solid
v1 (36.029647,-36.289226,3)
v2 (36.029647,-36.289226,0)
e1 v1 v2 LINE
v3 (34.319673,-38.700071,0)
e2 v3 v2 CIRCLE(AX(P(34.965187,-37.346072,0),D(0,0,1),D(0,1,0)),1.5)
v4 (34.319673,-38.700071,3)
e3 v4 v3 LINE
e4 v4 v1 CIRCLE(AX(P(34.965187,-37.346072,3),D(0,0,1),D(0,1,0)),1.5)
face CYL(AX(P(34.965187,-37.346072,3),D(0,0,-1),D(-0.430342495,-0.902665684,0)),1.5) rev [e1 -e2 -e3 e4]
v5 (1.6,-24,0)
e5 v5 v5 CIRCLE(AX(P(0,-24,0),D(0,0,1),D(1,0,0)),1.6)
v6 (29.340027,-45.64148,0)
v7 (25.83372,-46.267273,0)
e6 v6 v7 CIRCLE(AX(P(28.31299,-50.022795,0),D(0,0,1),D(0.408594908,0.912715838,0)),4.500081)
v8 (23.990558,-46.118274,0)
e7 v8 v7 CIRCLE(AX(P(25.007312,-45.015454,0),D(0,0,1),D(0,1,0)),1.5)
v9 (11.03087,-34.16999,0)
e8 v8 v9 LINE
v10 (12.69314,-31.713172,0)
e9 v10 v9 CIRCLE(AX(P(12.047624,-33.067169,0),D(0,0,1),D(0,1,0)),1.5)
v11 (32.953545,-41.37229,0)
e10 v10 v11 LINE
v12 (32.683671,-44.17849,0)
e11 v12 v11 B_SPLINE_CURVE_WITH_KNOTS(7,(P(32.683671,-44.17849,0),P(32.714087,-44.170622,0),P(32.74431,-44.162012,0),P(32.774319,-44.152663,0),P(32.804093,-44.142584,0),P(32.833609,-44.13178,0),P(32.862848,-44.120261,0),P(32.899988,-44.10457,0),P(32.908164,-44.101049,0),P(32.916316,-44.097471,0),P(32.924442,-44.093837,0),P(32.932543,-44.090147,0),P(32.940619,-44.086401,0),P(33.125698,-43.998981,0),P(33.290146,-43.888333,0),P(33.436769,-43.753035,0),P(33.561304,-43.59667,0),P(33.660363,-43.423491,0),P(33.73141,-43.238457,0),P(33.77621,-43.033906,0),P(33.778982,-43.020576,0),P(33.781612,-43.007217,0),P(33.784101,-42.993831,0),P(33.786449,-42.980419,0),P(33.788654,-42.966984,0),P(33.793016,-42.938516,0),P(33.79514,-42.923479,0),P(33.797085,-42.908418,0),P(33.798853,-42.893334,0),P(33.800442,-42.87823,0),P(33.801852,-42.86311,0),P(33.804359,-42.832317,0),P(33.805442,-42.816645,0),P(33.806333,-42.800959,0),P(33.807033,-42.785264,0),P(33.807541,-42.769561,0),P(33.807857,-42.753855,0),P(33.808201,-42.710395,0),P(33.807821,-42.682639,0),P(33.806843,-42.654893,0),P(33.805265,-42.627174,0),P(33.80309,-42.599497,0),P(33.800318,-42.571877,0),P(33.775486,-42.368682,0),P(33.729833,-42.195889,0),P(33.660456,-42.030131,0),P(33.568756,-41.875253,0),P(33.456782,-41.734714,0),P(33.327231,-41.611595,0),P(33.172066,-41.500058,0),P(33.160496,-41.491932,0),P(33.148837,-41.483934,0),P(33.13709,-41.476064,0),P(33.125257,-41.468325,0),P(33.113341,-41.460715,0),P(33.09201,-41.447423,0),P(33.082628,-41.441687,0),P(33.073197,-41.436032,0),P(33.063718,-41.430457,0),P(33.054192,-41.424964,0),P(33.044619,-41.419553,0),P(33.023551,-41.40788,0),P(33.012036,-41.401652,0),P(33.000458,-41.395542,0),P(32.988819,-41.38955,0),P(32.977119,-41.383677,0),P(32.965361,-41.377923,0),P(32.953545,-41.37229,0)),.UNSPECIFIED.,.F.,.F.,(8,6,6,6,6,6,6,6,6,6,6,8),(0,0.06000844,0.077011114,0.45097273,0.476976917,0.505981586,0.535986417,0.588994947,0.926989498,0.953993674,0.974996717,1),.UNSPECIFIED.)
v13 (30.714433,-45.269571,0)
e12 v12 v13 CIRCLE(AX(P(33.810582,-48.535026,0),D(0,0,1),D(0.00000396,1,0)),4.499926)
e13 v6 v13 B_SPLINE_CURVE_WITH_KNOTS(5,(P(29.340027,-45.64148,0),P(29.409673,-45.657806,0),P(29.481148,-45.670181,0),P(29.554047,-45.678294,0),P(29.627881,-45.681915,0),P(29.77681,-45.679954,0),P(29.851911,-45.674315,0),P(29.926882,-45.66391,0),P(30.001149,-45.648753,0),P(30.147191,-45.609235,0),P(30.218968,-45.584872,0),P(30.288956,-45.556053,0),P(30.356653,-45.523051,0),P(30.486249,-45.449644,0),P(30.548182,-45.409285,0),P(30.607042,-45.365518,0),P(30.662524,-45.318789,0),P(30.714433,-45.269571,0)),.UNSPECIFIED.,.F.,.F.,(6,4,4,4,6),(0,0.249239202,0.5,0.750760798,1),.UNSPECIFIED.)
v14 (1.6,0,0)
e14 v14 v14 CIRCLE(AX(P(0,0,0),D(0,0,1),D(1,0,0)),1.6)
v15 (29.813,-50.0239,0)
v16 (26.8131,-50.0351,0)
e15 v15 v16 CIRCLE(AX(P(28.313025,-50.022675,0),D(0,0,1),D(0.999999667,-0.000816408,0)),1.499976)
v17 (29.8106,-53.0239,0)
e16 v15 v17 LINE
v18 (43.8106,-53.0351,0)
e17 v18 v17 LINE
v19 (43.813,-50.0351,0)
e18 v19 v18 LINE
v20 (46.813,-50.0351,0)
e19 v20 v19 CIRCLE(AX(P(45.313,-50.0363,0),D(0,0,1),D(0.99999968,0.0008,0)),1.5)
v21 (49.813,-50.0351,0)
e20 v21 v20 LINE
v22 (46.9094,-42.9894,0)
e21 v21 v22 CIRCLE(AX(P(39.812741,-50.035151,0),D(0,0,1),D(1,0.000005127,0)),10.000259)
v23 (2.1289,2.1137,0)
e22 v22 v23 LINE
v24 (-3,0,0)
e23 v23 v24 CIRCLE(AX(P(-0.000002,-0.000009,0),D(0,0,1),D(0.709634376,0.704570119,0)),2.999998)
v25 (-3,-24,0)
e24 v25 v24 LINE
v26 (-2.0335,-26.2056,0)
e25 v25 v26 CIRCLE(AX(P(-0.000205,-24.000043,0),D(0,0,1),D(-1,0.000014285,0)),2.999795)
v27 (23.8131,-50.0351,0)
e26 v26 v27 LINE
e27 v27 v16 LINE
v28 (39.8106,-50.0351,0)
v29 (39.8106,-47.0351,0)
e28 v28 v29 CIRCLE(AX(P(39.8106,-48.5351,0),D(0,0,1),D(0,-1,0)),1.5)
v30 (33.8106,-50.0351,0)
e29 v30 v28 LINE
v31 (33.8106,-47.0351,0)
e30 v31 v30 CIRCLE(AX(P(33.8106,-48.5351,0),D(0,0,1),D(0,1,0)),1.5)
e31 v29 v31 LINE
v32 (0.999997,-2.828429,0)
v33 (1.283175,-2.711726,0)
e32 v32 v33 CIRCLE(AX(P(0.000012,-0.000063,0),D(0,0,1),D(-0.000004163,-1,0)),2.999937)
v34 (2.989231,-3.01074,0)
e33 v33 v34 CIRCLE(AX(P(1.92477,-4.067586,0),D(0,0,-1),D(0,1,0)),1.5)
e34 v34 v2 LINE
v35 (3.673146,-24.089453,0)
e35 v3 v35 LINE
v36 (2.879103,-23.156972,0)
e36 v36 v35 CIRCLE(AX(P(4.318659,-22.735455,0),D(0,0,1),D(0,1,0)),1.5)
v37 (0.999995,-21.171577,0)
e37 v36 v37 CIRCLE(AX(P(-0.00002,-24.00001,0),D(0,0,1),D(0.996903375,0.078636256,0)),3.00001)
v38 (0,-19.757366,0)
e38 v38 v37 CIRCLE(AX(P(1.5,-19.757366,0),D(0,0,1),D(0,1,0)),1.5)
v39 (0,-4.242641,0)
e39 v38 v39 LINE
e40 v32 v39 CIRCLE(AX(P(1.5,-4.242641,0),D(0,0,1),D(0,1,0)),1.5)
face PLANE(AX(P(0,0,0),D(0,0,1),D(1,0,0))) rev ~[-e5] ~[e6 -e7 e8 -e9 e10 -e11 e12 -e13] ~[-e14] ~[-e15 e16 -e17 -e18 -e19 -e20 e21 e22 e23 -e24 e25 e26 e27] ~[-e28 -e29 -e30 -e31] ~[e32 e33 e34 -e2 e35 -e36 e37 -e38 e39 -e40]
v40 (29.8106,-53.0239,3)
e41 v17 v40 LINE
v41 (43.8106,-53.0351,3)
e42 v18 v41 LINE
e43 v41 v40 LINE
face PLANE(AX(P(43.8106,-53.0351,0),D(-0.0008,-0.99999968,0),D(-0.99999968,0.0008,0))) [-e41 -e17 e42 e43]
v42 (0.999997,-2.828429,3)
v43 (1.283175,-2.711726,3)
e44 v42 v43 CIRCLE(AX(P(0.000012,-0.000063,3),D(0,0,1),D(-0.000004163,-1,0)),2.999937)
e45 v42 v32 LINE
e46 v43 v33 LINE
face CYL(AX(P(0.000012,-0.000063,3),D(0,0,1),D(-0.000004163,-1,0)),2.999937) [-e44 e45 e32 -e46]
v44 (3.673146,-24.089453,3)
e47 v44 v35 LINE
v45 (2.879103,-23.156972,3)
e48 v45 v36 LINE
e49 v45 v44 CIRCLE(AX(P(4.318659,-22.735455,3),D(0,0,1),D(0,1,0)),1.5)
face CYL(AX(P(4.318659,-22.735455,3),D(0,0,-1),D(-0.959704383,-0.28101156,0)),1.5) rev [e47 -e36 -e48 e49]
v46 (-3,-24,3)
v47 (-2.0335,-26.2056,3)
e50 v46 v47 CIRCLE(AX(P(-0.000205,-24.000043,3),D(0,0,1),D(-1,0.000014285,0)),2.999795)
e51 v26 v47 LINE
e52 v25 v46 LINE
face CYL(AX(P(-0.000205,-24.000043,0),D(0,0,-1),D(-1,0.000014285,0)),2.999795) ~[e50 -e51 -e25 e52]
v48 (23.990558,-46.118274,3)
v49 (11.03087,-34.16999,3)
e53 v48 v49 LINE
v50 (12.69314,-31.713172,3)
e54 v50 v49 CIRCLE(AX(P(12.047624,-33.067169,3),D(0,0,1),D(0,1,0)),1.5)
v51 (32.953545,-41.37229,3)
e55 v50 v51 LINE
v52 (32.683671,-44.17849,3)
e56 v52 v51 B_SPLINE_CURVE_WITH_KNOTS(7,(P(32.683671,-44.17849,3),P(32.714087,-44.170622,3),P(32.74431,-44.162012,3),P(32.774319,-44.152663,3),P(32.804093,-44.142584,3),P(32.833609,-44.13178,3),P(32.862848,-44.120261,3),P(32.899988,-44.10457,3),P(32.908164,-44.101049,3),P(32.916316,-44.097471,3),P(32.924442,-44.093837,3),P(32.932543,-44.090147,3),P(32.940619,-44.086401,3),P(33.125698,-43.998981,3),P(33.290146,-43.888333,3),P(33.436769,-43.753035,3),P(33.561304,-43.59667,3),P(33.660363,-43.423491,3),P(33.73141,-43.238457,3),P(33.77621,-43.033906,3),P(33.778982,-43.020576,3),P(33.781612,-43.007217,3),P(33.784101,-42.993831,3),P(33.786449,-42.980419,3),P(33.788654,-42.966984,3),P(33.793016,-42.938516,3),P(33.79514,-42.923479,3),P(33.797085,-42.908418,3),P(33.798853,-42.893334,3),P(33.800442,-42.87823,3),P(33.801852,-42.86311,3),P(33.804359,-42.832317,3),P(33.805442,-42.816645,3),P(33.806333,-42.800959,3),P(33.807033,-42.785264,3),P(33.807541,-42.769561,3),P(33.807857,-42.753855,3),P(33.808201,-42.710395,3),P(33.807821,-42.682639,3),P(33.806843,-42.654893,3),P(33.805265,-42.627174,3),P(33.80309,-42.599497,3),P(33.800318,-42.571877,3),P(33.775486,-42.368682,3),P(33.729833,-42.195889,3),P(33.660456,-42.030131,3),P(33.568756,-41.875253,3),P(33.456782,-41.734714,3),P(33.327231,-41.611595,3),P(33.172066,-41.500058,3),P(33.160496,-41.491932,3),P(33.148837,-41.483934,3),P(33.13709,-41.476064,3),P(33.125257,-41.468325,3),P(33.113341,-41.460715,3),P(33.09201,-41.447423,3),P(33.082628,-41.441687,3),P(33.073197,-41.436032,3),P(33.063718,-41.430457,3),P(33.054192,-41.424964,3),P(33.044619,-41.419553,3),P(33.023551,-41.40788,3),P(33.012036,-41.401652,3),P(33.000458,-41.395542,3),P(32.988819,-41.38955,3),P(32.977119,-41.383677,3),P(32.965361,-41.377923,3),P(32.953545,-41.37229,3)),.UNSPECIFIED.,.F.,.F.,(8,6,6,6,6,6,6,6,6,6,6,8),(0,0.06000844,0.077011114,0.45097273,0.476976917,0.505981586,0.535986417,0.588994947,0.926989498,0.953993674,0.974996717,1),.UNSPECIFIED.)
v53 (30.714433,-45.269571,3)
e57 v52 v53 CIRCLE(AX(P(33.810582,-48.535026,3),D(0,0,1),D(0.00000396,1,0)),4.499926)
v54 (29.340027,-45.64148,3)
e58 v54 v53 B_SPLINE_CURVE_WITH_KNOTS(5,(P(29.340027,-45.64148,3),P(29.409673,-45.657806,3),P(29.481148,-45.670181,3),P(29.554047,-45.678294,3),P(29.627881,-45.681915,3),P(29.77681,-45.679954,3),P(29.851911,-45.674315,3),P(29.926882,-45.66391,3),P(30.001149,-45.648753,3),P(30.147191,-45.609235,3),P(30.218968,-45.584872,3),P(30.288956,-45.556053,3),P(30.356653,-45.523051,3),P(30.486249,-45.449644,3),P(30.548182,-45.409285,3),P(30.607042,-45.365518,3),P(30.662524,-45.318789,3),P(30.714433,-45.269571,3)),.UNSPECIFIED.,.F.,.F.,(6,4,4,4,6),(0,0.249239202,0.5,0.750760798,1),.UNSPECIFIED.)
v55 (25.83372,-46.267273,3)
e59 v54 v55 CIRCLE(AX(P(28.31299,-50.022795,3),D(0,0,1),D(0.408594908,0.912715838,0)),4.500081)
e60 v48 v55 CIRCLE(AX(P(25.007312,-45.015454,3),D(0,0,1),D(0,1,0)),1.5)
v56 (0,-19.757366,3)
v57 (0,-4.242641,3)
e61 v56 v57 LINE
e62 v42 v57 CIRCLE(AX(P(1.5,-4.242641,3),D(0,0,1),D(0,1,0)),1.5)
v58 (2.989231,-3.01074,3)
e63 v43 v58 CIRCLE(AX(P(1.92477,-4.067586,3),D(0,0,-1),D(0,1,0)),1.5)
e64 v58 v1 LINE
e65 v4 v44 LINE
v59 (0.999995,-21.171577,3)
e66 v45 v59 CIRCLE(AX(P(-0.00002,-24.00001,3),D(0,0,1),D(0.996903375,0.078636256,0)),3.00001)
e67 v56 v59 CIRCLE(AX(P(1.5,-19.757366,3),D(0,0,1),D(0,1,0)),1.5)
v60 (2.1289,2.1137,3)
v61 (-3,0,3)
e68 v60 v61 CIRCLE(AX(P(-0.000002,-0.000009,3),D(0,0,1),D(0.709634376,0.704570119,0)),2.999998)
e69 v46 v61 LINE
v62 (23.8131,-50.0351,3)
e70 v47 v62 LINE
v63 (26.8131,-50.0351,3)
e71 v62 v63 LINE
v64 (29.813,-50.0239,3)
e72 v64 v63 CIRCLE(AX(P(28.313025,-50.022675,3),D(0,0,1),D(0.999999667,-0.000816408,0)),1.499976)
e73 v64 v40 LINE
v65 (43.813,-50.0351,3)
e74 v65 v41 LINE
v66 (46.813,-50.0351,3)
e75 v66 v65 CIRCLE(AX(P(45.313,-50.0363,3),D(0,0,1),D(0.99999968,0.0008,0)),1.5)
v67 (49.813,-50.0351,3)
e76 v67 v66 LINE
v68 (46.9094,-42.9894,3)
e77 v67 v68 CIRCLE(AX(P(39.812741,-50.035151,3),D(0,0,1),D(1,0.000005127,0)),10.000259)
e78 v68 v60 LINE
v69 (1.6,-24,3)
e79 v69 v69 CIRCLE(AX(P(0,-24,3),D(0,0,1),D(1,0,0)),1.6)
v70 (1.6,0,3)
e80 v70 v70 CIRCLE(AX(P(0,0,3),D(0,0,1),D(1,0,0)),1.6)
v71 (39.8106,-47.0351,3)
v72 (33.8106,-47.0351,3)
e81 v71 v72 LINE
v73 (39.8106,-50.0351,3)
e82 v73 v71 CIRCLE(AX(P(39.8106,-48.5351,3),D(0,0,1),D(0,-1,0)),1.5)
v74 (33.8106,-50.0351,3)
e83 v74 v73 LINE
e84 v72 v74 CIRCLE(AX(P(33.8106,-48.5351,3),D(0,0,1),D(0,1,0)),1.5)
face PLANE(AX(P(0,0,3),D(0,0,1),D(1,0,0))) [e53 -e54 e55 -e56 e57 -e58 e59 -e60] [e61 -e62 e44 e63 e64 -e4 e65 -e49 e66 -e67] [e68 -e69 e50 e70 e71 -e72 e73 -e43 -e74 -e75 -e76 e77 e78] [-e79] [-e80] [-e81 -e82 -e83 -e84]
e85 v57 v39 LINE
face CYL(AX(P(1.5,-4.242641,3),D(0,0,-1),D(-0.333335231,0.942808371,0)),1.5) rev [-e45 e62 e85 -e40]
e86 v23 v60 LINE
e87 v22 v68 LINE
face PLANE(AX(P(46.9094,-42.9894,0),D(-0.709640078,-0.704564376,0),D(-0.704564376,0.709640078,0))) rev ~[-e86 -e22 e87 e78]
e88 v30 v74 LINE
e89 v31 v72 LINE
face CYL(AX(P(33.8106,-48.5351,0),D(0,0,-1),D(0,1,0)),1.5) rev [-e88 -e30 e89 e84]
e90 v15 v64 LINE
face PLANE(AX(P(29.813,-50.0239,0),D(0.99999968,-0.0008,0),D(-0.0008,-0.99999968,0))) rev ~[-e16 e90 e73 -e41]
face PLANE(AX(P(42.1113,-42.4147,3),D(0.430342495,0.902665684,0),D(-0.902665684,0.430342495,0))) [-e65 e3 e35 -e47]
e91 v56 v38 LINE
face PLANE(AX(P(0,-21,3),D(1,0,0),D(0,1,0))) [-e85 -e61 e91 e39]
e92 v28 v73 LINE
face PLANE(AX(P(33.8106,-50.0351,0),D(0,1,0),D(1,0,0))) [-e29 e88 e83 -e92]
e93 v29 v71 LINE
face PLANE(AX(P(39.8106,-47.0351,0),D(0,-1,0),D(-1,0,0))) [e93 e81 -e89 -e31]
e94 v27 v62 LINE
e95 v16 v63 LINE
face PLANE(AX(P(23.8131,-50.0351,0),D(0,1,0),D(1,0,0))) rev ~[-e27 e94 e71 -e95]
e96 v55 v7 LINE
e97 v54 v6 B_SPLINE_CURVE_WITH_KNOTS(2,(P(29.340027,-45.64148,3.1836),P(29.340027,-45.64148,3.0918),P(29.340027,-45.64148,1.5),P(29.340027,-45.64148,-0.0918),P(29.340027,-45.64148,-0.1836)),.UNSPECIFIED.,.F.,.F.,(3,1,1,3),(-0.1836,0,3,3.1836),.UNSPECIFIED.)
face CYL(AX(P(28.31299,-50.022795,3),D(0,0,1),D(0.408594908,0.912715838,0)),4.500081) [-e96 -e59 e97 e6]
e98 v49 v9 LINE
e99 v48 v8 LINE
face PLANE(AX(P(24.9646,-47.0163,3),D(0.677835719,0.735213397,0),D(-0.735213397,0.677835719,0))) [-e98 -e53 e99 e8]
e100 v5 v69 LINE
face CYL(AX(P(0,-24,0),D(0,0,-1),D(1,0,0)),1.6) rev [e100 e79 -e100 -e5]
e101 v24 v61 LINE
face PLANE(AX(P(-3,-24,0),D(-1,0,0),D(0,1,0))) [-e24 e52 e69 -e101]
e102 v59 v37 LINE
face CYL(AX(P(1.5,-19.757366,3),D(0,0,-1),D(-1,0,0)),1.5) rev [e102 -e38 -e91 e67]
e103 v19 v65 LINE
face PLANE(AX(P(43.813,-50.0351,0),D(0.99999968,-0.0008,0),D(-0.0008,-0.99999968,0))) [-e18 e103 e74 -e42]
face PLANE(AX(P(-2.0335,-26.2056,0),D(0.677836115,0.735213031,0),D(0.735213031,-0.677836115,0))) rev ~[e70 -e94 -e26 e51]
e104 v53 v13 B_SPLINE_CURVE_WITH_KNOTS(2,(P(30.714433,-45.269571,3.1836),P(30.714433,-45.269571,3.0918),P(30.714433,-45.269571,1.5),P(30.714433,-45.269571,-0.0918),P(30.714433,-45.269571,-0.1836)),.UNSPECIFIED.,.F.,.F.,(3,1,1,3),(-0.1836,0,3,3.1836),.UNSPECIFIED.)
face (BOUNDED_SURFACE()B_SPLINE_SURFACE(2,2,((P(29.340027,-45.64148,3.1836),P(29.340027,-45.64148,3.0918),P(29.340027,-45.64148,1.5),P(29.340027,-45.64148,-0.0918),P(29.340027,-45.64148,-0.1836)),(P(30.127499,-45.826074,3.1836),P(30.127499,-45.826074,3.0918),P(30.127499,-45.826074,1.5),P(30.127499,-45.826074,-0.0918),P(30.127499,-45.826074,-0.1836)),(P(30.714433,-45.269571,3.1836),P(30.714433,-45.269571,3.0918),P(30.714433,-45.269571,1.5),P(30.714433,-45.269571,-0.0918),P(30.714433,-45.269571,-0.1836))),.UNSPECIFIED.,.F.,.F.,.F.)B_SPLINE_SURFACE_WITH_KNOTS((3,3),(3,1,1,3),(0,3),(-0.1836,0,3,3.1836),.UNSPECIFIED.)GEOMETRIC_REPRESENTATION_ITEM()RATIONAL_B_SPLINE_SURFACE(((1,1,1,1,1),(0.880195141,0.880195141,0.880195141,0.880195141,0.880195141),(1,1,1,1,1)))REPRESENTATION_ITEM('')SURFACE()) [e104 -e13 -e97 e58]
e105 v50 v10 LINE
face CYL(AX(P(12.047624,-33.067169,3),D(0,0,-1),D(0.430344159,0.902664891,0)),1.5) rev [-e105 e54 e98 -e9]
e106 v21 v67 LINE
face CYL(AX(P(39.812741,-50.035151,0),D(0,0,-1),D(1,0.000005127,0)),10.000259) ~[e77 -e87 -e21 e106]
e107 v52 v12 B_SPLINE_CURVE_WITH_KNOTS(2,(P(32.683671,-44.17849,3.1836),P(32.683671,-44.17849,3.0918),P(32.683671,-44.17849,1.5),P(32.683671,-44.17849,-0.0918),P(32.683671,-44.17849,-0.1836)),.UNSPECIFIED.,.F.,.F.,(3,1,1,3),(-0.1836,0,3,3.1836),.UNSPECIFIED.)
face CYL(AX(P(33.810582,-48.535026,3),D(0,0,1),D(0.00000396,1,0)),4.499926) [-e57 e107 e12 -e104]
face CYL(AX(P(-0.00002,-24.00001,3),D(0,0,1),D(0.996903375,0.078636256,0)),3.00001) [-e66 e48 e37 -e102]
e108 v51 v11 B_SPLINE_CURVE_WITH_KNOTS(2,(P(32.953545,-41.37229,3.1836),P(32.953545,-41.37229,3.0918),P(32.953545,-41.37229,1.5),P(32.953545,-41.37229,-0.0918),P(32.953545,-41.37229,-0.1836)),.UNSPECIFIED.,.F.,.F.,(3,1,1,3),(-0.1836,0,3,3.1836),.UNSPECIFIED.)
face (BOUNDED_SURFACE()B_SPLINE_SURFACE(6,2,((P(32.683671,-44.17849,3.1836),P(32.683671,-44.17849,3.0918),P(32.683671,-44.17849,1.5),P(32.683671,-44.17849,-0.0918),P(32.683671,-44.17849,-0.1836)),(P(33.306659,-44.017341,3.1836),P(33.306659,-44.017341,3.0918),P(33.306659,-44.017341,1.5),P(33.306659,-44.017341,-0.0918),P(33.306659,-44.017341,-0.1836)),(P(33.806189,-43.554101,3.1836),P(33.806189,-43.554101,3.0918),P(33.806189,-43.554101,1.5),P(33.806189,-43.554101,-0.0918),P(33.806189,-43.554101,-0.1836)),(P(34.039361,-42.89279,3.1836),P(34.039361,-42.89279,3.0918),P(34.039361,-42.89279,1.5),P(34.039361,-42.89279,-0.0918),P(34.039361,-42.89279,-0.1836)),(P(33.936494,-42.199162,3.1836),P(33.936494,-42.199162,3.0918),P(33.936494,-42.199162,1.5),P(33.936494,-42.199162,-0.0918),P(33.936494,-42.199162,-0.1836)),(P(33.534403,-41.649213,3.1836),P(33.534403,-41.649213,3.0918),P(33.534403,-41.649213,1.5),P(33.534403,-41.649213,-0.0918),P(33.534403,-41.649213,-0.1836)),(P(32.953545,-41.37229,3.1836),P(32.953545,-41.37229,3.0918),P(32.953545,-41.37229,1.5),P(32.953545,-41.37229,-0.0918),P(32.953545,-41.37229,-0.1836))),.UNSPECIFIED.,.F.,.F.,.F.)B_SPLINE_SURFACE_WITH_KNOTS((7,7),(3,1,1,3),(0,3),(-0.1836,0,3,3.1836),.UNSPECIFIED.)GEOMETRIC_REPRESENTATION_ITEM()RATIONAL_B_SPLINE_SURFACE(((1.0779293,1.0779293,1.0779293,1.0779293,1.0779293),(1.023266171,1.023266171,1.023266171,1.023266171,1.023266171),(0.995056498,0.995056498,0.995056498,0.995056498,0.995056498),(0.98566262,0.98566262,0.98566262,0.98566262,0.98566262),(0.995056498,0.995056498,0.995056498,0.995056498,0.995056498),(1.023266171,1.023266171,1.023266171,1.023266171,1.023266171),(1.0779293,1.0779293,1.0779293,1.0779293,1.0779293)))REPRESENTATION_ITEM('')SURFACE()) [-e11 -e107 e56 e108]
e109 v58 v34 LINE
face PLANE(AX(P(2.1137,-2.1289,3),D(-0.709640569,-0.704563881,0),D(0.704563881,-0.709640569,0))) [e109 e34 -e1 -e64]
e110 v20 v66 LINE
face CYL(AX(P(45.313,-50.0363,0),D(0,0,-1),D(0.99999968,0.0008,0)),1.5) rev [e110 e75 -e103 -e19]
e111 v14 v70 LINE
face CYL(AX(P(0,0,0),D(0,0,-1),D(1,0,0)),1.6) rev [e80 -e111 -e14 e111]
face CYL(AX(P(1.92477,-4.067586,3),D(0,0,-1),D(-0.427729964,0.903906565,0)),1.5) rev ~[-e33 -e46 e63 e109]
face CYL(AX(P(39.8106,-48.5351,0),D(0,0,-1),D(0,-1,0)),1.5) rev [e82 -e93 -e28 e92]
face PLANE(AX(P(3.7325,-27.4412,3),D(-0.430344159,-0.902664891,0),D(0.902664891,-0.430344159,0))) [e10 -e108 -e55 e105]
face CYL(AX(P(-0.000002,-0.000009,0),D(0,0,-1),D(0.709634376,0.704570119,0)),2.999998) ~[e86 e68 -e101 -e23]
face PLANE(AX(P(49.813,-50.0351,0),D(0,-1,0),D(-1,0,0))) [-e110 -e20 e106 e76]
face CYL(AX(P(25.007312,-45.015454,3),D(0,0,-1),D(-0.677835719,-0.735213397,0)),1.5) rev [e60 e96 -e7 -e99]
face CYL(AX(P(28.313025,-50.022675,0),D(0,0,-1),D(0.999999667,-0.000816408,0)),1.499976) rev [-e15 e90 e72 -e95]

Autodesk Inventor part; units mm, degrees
ref_plane "YZ Plane" through (0, 0, 0) normal (1, 0, 0) x (0, 1, 0)
ref_plane "XZ Plane" through (0, 0, 0) normal (0, 1, 0) x (-1, 0, 0)
ref_plane "XY Plane" through (0, 0, 0) normal (0, 0, 1) x (1, 0, 0)
sketch "スケッチ1" plane through (0, 0, 0) normal (0, 0, 1) x (1, 0, 0)
  circle A0 centre (0, 0) radius 1.6
  arc A1 (2.1289, 2.1137) -> (-3, 0) centre (0, 0) ccw
  line L0 (43.813, -50.0351) -> (43.8106, -53.0351) projected
  line L1 (29.813, -50.0239) -> (29.8106, -53.0239) projected
  line L2 (46.9094, -42.9894) -> (2.1289, 2.1137)
  arc A2 (49.813, -50.0351) -> (46.9094, -42.9894) centre (39.813, -50.0351) ccw
  line L3 (49.813, -50.0351) -> (49.813, -50.0351)
  line L4 (49.813, -50.0351) -> (46.813, -50.0351)
  arc A3 (46.813, -50.0351) -> (43.813, -50.0351) centre (45.313, -50.0363) ccw
  line L5 (43.8106, -53.0351) -> (29.8106, -53.0239)
  arc A4 (29.813, -50.0239) -> (26.8131, -50.0351) centre (28.313, -50.0227) ccw
  line L6 (39.8106, -48.5351) -> (33.8106, -48.5351) construction
  line L7 (39.8106, -47.0351) -> (33.8106, -47.0351)
  line L8 (33.8106, -50.0351) -> (39.8106, -50.0351)
  arc A5 (39.8106, -50.0351) -> (39.8106, -47.0351) centre (39.8106, -48.5351) ccw
  arc A6 (33.8106, -47.0351) -> (33.8106, -50.0351) centre (33.8106, -48.5351) ccw
  line L9 (23.8131, -50.0351) -> (26.8131, -50.0351)
  circle A7 centre (0, -24) radius 1.6
  arc A8 (-3, -24) -> (-2.0335, -26.2056) centre (0, -24) ccw
  line L10 (-3, -24) -> (-3, 0)
  line L11 (-2.0335, -26.2056) -> (23.8131, -50.0351)
  point P0 (36.8106, -53.0295)
  point P1 (36.8106, -48.5351)
  point P2 (36.8106, -50.0351)
  dimension "d0" = 3.2
  dimension "d1" = 6
  dimension "d4" = 1.5
  dimension "d5" = 3
  dimension "d8" = 6
  dimension "d9" = 1.5
  dimension "d10" = 3
  dimension "d13" = 10
  dimension "d14" = 3.2
  dimension "d15" = 24
extrude "押し出し1" add sketch "スケッチ1" along normal blind 3
sketch "スケッチ2" plane through (0, 0, 3) normal (0, 0, 1) x (1, 0, 0)
  arc A0 (39.8106, -50.0351) -> (39.8106, -47.0351) centre (39.8106, -48.5351) ccw projected
  line L0 (39.8106, -50.0351) -> (33.8106, -50.0351) projected
  arc A1 (33.8106, -47.0351) -> (33.8106, -50.0351) centre (33.8106, -48.5351) ccw projected
  line L1 (33.8106, -47.0351) -> (39.8106, -47.0351) projected
  circle A2 centre (0, -24) radius 1.6 projected
  circle A3 centre (0, 0) radius 1.6 projected
  arc A4 (46.813, -50.0351) -> (43.813, -50.0351) centre (45.313, -50.0363) ccw projected
  line L2 (46.813, -50.0351) -> (49.813, -50.0351) projected
  arc A5 (49.813, -50.0351) -> (46.9094, -42.9894) centre (39.813, -50.0351) ccw projected
  line L3 (46.9094, -42.9894) -> (2.1289, 2.1137) projected
  arc A6 (2.1289, 2.1137) -> (-3, 0) centre (0, 0) ccw projected
  line L4 (-3, 0) -> (-3, -24) projected
  arc A7 (-3, -24) -> (-2.0335, -26.2056) centre (0, -24) ccw projected
  line L5 (-2.0335, -26.2056) -> (23.8131, -50.0351) projected
  line L6 (23.8131, -50.0351) -> (26.8131, -50.0351) projected
  arc A8 (29.813, -50.0239) -> (26.8131, -50.0351) centre (28.313, -50.0227) ccw projected
  line L7 (29.813, -50.0239) -> (29.8106, -53.0239) projected
  line L8 (29.8106, -53.0239) -> (43.8106, -53.0351) projected
  line L9 (43.8106, -53.0351) -> (43.813, -50.0351) projected
  arc A9 (45.1777, -45.5383) -> (44.7805, -45.1031) centre (39.813, -50.0351) ccw
  arc A10 (45.1777, -45.5383) -> (40.813, -50.0327) centre (45.313, -50.0363) ccw
  line L10 (40.813, -50.0327) -> (32.813, -50.0263)
  arc A11 (39.8106, -53.0351) -> (43.4781, -45.9274) centre (39.8106, -48.5351) ccw
  line L11 (39.8106, -53.0351) -> (33.8106, -53.0351)
  line L12 (33.8106, -44.0351) -> (38.5389, -44.0351)
  line L13 (0, -24) -> (45.1777, -45.5383) construction
  arc A12 (0, -22.5) -> (-0.6455, -25.354) centre (0, -24) ccw
  arc A13 (44.5321, -46.8923) -> (45.8232, -44.1843) centre (45.1777, -45.5383) ccw
  line L14 (43.0134, -46.1682) -> (44.5321, -46.8923)
  arc A14 (32.813, -50.0263) -> (32.3777, -48.0917) centre (28.313, -50.0227) ccw
  arc A15 (30.1517, -45.9155) -> (24.9646, -47.0163) centre (28.313, -50.0227) ccw
  arc A16 (33.8106, -44.0351) -> (30.1517, -45.9155) centre (33.8106, -48.5351) ccw
  arc A17 (29.3269, -48.9172) -> (33.8106, -53.0351) centre (33.8106, -48.5351) ccw
  line L15 (0, 0) -> (1.1273, -1.1354)
  line L16 (2.1137, -2.1289) -> (42.1113, -42.4147)
  line L17 (0, -1.6) -> (0, 0)
  arc A18 (2.1289, 2.1137) -> (-3, 0) centre (0, 0) ccw
  arc A19 (0, -3) -> (2.1137, -2.1289) centre (0, 0) ccw
  line L18 (-0.6455, -25.354) -> (1.6997, -26.4721)
  line L19 (3.7325, -27.4412) -> (38.5389, -44.0351)
  line L20 (24.9646, -47.0163) -> (3.7325, -27.4412)
  line L21 (2.2056, -26.0335) -> (0, -24)
  line L22 (42.1113, -42.4147) -> (2.9907, -23.7641)
  line L23 (1.1481, -22.8856) -> (0.6455, -22.646)
  line L24 (0, -24) -> (0, -22.4)
  line L25 (0, -21) -> (0, -3)
  arc A20 (2.9907, -23.7641) -> (0, -21) centre (0, -24) ccw
  arc A21 (-3, -24) -> (2.2056, -26.0335) centre (0, -24) ccw
  point P0 (22.5888, -34.7692)
  dimension "d17" = 3
  dimension "d18" = 3
extrude "押し出し2" cut sketch "スケッチ2" against normal blind 3 contours A16 A15 L20 L19 L12 | L16 L22 A20 L25 A19
fillet "フィレット1" radius 1.5 9 edges at (24.9646, -47.0163, 1.5) (30.1517, -45.9155, 1.5) (38.5389, -44.0351, 1.5) (3.7325, -27.4412, 1.5) (0, -21, 1.5) (2.9907, -23.7641, 1.5) (0, -3, 1.5) (2.1137, -2.1289, 1.5) (42.1113, -42.4147, 1.5)
properties part number "Tens1"
